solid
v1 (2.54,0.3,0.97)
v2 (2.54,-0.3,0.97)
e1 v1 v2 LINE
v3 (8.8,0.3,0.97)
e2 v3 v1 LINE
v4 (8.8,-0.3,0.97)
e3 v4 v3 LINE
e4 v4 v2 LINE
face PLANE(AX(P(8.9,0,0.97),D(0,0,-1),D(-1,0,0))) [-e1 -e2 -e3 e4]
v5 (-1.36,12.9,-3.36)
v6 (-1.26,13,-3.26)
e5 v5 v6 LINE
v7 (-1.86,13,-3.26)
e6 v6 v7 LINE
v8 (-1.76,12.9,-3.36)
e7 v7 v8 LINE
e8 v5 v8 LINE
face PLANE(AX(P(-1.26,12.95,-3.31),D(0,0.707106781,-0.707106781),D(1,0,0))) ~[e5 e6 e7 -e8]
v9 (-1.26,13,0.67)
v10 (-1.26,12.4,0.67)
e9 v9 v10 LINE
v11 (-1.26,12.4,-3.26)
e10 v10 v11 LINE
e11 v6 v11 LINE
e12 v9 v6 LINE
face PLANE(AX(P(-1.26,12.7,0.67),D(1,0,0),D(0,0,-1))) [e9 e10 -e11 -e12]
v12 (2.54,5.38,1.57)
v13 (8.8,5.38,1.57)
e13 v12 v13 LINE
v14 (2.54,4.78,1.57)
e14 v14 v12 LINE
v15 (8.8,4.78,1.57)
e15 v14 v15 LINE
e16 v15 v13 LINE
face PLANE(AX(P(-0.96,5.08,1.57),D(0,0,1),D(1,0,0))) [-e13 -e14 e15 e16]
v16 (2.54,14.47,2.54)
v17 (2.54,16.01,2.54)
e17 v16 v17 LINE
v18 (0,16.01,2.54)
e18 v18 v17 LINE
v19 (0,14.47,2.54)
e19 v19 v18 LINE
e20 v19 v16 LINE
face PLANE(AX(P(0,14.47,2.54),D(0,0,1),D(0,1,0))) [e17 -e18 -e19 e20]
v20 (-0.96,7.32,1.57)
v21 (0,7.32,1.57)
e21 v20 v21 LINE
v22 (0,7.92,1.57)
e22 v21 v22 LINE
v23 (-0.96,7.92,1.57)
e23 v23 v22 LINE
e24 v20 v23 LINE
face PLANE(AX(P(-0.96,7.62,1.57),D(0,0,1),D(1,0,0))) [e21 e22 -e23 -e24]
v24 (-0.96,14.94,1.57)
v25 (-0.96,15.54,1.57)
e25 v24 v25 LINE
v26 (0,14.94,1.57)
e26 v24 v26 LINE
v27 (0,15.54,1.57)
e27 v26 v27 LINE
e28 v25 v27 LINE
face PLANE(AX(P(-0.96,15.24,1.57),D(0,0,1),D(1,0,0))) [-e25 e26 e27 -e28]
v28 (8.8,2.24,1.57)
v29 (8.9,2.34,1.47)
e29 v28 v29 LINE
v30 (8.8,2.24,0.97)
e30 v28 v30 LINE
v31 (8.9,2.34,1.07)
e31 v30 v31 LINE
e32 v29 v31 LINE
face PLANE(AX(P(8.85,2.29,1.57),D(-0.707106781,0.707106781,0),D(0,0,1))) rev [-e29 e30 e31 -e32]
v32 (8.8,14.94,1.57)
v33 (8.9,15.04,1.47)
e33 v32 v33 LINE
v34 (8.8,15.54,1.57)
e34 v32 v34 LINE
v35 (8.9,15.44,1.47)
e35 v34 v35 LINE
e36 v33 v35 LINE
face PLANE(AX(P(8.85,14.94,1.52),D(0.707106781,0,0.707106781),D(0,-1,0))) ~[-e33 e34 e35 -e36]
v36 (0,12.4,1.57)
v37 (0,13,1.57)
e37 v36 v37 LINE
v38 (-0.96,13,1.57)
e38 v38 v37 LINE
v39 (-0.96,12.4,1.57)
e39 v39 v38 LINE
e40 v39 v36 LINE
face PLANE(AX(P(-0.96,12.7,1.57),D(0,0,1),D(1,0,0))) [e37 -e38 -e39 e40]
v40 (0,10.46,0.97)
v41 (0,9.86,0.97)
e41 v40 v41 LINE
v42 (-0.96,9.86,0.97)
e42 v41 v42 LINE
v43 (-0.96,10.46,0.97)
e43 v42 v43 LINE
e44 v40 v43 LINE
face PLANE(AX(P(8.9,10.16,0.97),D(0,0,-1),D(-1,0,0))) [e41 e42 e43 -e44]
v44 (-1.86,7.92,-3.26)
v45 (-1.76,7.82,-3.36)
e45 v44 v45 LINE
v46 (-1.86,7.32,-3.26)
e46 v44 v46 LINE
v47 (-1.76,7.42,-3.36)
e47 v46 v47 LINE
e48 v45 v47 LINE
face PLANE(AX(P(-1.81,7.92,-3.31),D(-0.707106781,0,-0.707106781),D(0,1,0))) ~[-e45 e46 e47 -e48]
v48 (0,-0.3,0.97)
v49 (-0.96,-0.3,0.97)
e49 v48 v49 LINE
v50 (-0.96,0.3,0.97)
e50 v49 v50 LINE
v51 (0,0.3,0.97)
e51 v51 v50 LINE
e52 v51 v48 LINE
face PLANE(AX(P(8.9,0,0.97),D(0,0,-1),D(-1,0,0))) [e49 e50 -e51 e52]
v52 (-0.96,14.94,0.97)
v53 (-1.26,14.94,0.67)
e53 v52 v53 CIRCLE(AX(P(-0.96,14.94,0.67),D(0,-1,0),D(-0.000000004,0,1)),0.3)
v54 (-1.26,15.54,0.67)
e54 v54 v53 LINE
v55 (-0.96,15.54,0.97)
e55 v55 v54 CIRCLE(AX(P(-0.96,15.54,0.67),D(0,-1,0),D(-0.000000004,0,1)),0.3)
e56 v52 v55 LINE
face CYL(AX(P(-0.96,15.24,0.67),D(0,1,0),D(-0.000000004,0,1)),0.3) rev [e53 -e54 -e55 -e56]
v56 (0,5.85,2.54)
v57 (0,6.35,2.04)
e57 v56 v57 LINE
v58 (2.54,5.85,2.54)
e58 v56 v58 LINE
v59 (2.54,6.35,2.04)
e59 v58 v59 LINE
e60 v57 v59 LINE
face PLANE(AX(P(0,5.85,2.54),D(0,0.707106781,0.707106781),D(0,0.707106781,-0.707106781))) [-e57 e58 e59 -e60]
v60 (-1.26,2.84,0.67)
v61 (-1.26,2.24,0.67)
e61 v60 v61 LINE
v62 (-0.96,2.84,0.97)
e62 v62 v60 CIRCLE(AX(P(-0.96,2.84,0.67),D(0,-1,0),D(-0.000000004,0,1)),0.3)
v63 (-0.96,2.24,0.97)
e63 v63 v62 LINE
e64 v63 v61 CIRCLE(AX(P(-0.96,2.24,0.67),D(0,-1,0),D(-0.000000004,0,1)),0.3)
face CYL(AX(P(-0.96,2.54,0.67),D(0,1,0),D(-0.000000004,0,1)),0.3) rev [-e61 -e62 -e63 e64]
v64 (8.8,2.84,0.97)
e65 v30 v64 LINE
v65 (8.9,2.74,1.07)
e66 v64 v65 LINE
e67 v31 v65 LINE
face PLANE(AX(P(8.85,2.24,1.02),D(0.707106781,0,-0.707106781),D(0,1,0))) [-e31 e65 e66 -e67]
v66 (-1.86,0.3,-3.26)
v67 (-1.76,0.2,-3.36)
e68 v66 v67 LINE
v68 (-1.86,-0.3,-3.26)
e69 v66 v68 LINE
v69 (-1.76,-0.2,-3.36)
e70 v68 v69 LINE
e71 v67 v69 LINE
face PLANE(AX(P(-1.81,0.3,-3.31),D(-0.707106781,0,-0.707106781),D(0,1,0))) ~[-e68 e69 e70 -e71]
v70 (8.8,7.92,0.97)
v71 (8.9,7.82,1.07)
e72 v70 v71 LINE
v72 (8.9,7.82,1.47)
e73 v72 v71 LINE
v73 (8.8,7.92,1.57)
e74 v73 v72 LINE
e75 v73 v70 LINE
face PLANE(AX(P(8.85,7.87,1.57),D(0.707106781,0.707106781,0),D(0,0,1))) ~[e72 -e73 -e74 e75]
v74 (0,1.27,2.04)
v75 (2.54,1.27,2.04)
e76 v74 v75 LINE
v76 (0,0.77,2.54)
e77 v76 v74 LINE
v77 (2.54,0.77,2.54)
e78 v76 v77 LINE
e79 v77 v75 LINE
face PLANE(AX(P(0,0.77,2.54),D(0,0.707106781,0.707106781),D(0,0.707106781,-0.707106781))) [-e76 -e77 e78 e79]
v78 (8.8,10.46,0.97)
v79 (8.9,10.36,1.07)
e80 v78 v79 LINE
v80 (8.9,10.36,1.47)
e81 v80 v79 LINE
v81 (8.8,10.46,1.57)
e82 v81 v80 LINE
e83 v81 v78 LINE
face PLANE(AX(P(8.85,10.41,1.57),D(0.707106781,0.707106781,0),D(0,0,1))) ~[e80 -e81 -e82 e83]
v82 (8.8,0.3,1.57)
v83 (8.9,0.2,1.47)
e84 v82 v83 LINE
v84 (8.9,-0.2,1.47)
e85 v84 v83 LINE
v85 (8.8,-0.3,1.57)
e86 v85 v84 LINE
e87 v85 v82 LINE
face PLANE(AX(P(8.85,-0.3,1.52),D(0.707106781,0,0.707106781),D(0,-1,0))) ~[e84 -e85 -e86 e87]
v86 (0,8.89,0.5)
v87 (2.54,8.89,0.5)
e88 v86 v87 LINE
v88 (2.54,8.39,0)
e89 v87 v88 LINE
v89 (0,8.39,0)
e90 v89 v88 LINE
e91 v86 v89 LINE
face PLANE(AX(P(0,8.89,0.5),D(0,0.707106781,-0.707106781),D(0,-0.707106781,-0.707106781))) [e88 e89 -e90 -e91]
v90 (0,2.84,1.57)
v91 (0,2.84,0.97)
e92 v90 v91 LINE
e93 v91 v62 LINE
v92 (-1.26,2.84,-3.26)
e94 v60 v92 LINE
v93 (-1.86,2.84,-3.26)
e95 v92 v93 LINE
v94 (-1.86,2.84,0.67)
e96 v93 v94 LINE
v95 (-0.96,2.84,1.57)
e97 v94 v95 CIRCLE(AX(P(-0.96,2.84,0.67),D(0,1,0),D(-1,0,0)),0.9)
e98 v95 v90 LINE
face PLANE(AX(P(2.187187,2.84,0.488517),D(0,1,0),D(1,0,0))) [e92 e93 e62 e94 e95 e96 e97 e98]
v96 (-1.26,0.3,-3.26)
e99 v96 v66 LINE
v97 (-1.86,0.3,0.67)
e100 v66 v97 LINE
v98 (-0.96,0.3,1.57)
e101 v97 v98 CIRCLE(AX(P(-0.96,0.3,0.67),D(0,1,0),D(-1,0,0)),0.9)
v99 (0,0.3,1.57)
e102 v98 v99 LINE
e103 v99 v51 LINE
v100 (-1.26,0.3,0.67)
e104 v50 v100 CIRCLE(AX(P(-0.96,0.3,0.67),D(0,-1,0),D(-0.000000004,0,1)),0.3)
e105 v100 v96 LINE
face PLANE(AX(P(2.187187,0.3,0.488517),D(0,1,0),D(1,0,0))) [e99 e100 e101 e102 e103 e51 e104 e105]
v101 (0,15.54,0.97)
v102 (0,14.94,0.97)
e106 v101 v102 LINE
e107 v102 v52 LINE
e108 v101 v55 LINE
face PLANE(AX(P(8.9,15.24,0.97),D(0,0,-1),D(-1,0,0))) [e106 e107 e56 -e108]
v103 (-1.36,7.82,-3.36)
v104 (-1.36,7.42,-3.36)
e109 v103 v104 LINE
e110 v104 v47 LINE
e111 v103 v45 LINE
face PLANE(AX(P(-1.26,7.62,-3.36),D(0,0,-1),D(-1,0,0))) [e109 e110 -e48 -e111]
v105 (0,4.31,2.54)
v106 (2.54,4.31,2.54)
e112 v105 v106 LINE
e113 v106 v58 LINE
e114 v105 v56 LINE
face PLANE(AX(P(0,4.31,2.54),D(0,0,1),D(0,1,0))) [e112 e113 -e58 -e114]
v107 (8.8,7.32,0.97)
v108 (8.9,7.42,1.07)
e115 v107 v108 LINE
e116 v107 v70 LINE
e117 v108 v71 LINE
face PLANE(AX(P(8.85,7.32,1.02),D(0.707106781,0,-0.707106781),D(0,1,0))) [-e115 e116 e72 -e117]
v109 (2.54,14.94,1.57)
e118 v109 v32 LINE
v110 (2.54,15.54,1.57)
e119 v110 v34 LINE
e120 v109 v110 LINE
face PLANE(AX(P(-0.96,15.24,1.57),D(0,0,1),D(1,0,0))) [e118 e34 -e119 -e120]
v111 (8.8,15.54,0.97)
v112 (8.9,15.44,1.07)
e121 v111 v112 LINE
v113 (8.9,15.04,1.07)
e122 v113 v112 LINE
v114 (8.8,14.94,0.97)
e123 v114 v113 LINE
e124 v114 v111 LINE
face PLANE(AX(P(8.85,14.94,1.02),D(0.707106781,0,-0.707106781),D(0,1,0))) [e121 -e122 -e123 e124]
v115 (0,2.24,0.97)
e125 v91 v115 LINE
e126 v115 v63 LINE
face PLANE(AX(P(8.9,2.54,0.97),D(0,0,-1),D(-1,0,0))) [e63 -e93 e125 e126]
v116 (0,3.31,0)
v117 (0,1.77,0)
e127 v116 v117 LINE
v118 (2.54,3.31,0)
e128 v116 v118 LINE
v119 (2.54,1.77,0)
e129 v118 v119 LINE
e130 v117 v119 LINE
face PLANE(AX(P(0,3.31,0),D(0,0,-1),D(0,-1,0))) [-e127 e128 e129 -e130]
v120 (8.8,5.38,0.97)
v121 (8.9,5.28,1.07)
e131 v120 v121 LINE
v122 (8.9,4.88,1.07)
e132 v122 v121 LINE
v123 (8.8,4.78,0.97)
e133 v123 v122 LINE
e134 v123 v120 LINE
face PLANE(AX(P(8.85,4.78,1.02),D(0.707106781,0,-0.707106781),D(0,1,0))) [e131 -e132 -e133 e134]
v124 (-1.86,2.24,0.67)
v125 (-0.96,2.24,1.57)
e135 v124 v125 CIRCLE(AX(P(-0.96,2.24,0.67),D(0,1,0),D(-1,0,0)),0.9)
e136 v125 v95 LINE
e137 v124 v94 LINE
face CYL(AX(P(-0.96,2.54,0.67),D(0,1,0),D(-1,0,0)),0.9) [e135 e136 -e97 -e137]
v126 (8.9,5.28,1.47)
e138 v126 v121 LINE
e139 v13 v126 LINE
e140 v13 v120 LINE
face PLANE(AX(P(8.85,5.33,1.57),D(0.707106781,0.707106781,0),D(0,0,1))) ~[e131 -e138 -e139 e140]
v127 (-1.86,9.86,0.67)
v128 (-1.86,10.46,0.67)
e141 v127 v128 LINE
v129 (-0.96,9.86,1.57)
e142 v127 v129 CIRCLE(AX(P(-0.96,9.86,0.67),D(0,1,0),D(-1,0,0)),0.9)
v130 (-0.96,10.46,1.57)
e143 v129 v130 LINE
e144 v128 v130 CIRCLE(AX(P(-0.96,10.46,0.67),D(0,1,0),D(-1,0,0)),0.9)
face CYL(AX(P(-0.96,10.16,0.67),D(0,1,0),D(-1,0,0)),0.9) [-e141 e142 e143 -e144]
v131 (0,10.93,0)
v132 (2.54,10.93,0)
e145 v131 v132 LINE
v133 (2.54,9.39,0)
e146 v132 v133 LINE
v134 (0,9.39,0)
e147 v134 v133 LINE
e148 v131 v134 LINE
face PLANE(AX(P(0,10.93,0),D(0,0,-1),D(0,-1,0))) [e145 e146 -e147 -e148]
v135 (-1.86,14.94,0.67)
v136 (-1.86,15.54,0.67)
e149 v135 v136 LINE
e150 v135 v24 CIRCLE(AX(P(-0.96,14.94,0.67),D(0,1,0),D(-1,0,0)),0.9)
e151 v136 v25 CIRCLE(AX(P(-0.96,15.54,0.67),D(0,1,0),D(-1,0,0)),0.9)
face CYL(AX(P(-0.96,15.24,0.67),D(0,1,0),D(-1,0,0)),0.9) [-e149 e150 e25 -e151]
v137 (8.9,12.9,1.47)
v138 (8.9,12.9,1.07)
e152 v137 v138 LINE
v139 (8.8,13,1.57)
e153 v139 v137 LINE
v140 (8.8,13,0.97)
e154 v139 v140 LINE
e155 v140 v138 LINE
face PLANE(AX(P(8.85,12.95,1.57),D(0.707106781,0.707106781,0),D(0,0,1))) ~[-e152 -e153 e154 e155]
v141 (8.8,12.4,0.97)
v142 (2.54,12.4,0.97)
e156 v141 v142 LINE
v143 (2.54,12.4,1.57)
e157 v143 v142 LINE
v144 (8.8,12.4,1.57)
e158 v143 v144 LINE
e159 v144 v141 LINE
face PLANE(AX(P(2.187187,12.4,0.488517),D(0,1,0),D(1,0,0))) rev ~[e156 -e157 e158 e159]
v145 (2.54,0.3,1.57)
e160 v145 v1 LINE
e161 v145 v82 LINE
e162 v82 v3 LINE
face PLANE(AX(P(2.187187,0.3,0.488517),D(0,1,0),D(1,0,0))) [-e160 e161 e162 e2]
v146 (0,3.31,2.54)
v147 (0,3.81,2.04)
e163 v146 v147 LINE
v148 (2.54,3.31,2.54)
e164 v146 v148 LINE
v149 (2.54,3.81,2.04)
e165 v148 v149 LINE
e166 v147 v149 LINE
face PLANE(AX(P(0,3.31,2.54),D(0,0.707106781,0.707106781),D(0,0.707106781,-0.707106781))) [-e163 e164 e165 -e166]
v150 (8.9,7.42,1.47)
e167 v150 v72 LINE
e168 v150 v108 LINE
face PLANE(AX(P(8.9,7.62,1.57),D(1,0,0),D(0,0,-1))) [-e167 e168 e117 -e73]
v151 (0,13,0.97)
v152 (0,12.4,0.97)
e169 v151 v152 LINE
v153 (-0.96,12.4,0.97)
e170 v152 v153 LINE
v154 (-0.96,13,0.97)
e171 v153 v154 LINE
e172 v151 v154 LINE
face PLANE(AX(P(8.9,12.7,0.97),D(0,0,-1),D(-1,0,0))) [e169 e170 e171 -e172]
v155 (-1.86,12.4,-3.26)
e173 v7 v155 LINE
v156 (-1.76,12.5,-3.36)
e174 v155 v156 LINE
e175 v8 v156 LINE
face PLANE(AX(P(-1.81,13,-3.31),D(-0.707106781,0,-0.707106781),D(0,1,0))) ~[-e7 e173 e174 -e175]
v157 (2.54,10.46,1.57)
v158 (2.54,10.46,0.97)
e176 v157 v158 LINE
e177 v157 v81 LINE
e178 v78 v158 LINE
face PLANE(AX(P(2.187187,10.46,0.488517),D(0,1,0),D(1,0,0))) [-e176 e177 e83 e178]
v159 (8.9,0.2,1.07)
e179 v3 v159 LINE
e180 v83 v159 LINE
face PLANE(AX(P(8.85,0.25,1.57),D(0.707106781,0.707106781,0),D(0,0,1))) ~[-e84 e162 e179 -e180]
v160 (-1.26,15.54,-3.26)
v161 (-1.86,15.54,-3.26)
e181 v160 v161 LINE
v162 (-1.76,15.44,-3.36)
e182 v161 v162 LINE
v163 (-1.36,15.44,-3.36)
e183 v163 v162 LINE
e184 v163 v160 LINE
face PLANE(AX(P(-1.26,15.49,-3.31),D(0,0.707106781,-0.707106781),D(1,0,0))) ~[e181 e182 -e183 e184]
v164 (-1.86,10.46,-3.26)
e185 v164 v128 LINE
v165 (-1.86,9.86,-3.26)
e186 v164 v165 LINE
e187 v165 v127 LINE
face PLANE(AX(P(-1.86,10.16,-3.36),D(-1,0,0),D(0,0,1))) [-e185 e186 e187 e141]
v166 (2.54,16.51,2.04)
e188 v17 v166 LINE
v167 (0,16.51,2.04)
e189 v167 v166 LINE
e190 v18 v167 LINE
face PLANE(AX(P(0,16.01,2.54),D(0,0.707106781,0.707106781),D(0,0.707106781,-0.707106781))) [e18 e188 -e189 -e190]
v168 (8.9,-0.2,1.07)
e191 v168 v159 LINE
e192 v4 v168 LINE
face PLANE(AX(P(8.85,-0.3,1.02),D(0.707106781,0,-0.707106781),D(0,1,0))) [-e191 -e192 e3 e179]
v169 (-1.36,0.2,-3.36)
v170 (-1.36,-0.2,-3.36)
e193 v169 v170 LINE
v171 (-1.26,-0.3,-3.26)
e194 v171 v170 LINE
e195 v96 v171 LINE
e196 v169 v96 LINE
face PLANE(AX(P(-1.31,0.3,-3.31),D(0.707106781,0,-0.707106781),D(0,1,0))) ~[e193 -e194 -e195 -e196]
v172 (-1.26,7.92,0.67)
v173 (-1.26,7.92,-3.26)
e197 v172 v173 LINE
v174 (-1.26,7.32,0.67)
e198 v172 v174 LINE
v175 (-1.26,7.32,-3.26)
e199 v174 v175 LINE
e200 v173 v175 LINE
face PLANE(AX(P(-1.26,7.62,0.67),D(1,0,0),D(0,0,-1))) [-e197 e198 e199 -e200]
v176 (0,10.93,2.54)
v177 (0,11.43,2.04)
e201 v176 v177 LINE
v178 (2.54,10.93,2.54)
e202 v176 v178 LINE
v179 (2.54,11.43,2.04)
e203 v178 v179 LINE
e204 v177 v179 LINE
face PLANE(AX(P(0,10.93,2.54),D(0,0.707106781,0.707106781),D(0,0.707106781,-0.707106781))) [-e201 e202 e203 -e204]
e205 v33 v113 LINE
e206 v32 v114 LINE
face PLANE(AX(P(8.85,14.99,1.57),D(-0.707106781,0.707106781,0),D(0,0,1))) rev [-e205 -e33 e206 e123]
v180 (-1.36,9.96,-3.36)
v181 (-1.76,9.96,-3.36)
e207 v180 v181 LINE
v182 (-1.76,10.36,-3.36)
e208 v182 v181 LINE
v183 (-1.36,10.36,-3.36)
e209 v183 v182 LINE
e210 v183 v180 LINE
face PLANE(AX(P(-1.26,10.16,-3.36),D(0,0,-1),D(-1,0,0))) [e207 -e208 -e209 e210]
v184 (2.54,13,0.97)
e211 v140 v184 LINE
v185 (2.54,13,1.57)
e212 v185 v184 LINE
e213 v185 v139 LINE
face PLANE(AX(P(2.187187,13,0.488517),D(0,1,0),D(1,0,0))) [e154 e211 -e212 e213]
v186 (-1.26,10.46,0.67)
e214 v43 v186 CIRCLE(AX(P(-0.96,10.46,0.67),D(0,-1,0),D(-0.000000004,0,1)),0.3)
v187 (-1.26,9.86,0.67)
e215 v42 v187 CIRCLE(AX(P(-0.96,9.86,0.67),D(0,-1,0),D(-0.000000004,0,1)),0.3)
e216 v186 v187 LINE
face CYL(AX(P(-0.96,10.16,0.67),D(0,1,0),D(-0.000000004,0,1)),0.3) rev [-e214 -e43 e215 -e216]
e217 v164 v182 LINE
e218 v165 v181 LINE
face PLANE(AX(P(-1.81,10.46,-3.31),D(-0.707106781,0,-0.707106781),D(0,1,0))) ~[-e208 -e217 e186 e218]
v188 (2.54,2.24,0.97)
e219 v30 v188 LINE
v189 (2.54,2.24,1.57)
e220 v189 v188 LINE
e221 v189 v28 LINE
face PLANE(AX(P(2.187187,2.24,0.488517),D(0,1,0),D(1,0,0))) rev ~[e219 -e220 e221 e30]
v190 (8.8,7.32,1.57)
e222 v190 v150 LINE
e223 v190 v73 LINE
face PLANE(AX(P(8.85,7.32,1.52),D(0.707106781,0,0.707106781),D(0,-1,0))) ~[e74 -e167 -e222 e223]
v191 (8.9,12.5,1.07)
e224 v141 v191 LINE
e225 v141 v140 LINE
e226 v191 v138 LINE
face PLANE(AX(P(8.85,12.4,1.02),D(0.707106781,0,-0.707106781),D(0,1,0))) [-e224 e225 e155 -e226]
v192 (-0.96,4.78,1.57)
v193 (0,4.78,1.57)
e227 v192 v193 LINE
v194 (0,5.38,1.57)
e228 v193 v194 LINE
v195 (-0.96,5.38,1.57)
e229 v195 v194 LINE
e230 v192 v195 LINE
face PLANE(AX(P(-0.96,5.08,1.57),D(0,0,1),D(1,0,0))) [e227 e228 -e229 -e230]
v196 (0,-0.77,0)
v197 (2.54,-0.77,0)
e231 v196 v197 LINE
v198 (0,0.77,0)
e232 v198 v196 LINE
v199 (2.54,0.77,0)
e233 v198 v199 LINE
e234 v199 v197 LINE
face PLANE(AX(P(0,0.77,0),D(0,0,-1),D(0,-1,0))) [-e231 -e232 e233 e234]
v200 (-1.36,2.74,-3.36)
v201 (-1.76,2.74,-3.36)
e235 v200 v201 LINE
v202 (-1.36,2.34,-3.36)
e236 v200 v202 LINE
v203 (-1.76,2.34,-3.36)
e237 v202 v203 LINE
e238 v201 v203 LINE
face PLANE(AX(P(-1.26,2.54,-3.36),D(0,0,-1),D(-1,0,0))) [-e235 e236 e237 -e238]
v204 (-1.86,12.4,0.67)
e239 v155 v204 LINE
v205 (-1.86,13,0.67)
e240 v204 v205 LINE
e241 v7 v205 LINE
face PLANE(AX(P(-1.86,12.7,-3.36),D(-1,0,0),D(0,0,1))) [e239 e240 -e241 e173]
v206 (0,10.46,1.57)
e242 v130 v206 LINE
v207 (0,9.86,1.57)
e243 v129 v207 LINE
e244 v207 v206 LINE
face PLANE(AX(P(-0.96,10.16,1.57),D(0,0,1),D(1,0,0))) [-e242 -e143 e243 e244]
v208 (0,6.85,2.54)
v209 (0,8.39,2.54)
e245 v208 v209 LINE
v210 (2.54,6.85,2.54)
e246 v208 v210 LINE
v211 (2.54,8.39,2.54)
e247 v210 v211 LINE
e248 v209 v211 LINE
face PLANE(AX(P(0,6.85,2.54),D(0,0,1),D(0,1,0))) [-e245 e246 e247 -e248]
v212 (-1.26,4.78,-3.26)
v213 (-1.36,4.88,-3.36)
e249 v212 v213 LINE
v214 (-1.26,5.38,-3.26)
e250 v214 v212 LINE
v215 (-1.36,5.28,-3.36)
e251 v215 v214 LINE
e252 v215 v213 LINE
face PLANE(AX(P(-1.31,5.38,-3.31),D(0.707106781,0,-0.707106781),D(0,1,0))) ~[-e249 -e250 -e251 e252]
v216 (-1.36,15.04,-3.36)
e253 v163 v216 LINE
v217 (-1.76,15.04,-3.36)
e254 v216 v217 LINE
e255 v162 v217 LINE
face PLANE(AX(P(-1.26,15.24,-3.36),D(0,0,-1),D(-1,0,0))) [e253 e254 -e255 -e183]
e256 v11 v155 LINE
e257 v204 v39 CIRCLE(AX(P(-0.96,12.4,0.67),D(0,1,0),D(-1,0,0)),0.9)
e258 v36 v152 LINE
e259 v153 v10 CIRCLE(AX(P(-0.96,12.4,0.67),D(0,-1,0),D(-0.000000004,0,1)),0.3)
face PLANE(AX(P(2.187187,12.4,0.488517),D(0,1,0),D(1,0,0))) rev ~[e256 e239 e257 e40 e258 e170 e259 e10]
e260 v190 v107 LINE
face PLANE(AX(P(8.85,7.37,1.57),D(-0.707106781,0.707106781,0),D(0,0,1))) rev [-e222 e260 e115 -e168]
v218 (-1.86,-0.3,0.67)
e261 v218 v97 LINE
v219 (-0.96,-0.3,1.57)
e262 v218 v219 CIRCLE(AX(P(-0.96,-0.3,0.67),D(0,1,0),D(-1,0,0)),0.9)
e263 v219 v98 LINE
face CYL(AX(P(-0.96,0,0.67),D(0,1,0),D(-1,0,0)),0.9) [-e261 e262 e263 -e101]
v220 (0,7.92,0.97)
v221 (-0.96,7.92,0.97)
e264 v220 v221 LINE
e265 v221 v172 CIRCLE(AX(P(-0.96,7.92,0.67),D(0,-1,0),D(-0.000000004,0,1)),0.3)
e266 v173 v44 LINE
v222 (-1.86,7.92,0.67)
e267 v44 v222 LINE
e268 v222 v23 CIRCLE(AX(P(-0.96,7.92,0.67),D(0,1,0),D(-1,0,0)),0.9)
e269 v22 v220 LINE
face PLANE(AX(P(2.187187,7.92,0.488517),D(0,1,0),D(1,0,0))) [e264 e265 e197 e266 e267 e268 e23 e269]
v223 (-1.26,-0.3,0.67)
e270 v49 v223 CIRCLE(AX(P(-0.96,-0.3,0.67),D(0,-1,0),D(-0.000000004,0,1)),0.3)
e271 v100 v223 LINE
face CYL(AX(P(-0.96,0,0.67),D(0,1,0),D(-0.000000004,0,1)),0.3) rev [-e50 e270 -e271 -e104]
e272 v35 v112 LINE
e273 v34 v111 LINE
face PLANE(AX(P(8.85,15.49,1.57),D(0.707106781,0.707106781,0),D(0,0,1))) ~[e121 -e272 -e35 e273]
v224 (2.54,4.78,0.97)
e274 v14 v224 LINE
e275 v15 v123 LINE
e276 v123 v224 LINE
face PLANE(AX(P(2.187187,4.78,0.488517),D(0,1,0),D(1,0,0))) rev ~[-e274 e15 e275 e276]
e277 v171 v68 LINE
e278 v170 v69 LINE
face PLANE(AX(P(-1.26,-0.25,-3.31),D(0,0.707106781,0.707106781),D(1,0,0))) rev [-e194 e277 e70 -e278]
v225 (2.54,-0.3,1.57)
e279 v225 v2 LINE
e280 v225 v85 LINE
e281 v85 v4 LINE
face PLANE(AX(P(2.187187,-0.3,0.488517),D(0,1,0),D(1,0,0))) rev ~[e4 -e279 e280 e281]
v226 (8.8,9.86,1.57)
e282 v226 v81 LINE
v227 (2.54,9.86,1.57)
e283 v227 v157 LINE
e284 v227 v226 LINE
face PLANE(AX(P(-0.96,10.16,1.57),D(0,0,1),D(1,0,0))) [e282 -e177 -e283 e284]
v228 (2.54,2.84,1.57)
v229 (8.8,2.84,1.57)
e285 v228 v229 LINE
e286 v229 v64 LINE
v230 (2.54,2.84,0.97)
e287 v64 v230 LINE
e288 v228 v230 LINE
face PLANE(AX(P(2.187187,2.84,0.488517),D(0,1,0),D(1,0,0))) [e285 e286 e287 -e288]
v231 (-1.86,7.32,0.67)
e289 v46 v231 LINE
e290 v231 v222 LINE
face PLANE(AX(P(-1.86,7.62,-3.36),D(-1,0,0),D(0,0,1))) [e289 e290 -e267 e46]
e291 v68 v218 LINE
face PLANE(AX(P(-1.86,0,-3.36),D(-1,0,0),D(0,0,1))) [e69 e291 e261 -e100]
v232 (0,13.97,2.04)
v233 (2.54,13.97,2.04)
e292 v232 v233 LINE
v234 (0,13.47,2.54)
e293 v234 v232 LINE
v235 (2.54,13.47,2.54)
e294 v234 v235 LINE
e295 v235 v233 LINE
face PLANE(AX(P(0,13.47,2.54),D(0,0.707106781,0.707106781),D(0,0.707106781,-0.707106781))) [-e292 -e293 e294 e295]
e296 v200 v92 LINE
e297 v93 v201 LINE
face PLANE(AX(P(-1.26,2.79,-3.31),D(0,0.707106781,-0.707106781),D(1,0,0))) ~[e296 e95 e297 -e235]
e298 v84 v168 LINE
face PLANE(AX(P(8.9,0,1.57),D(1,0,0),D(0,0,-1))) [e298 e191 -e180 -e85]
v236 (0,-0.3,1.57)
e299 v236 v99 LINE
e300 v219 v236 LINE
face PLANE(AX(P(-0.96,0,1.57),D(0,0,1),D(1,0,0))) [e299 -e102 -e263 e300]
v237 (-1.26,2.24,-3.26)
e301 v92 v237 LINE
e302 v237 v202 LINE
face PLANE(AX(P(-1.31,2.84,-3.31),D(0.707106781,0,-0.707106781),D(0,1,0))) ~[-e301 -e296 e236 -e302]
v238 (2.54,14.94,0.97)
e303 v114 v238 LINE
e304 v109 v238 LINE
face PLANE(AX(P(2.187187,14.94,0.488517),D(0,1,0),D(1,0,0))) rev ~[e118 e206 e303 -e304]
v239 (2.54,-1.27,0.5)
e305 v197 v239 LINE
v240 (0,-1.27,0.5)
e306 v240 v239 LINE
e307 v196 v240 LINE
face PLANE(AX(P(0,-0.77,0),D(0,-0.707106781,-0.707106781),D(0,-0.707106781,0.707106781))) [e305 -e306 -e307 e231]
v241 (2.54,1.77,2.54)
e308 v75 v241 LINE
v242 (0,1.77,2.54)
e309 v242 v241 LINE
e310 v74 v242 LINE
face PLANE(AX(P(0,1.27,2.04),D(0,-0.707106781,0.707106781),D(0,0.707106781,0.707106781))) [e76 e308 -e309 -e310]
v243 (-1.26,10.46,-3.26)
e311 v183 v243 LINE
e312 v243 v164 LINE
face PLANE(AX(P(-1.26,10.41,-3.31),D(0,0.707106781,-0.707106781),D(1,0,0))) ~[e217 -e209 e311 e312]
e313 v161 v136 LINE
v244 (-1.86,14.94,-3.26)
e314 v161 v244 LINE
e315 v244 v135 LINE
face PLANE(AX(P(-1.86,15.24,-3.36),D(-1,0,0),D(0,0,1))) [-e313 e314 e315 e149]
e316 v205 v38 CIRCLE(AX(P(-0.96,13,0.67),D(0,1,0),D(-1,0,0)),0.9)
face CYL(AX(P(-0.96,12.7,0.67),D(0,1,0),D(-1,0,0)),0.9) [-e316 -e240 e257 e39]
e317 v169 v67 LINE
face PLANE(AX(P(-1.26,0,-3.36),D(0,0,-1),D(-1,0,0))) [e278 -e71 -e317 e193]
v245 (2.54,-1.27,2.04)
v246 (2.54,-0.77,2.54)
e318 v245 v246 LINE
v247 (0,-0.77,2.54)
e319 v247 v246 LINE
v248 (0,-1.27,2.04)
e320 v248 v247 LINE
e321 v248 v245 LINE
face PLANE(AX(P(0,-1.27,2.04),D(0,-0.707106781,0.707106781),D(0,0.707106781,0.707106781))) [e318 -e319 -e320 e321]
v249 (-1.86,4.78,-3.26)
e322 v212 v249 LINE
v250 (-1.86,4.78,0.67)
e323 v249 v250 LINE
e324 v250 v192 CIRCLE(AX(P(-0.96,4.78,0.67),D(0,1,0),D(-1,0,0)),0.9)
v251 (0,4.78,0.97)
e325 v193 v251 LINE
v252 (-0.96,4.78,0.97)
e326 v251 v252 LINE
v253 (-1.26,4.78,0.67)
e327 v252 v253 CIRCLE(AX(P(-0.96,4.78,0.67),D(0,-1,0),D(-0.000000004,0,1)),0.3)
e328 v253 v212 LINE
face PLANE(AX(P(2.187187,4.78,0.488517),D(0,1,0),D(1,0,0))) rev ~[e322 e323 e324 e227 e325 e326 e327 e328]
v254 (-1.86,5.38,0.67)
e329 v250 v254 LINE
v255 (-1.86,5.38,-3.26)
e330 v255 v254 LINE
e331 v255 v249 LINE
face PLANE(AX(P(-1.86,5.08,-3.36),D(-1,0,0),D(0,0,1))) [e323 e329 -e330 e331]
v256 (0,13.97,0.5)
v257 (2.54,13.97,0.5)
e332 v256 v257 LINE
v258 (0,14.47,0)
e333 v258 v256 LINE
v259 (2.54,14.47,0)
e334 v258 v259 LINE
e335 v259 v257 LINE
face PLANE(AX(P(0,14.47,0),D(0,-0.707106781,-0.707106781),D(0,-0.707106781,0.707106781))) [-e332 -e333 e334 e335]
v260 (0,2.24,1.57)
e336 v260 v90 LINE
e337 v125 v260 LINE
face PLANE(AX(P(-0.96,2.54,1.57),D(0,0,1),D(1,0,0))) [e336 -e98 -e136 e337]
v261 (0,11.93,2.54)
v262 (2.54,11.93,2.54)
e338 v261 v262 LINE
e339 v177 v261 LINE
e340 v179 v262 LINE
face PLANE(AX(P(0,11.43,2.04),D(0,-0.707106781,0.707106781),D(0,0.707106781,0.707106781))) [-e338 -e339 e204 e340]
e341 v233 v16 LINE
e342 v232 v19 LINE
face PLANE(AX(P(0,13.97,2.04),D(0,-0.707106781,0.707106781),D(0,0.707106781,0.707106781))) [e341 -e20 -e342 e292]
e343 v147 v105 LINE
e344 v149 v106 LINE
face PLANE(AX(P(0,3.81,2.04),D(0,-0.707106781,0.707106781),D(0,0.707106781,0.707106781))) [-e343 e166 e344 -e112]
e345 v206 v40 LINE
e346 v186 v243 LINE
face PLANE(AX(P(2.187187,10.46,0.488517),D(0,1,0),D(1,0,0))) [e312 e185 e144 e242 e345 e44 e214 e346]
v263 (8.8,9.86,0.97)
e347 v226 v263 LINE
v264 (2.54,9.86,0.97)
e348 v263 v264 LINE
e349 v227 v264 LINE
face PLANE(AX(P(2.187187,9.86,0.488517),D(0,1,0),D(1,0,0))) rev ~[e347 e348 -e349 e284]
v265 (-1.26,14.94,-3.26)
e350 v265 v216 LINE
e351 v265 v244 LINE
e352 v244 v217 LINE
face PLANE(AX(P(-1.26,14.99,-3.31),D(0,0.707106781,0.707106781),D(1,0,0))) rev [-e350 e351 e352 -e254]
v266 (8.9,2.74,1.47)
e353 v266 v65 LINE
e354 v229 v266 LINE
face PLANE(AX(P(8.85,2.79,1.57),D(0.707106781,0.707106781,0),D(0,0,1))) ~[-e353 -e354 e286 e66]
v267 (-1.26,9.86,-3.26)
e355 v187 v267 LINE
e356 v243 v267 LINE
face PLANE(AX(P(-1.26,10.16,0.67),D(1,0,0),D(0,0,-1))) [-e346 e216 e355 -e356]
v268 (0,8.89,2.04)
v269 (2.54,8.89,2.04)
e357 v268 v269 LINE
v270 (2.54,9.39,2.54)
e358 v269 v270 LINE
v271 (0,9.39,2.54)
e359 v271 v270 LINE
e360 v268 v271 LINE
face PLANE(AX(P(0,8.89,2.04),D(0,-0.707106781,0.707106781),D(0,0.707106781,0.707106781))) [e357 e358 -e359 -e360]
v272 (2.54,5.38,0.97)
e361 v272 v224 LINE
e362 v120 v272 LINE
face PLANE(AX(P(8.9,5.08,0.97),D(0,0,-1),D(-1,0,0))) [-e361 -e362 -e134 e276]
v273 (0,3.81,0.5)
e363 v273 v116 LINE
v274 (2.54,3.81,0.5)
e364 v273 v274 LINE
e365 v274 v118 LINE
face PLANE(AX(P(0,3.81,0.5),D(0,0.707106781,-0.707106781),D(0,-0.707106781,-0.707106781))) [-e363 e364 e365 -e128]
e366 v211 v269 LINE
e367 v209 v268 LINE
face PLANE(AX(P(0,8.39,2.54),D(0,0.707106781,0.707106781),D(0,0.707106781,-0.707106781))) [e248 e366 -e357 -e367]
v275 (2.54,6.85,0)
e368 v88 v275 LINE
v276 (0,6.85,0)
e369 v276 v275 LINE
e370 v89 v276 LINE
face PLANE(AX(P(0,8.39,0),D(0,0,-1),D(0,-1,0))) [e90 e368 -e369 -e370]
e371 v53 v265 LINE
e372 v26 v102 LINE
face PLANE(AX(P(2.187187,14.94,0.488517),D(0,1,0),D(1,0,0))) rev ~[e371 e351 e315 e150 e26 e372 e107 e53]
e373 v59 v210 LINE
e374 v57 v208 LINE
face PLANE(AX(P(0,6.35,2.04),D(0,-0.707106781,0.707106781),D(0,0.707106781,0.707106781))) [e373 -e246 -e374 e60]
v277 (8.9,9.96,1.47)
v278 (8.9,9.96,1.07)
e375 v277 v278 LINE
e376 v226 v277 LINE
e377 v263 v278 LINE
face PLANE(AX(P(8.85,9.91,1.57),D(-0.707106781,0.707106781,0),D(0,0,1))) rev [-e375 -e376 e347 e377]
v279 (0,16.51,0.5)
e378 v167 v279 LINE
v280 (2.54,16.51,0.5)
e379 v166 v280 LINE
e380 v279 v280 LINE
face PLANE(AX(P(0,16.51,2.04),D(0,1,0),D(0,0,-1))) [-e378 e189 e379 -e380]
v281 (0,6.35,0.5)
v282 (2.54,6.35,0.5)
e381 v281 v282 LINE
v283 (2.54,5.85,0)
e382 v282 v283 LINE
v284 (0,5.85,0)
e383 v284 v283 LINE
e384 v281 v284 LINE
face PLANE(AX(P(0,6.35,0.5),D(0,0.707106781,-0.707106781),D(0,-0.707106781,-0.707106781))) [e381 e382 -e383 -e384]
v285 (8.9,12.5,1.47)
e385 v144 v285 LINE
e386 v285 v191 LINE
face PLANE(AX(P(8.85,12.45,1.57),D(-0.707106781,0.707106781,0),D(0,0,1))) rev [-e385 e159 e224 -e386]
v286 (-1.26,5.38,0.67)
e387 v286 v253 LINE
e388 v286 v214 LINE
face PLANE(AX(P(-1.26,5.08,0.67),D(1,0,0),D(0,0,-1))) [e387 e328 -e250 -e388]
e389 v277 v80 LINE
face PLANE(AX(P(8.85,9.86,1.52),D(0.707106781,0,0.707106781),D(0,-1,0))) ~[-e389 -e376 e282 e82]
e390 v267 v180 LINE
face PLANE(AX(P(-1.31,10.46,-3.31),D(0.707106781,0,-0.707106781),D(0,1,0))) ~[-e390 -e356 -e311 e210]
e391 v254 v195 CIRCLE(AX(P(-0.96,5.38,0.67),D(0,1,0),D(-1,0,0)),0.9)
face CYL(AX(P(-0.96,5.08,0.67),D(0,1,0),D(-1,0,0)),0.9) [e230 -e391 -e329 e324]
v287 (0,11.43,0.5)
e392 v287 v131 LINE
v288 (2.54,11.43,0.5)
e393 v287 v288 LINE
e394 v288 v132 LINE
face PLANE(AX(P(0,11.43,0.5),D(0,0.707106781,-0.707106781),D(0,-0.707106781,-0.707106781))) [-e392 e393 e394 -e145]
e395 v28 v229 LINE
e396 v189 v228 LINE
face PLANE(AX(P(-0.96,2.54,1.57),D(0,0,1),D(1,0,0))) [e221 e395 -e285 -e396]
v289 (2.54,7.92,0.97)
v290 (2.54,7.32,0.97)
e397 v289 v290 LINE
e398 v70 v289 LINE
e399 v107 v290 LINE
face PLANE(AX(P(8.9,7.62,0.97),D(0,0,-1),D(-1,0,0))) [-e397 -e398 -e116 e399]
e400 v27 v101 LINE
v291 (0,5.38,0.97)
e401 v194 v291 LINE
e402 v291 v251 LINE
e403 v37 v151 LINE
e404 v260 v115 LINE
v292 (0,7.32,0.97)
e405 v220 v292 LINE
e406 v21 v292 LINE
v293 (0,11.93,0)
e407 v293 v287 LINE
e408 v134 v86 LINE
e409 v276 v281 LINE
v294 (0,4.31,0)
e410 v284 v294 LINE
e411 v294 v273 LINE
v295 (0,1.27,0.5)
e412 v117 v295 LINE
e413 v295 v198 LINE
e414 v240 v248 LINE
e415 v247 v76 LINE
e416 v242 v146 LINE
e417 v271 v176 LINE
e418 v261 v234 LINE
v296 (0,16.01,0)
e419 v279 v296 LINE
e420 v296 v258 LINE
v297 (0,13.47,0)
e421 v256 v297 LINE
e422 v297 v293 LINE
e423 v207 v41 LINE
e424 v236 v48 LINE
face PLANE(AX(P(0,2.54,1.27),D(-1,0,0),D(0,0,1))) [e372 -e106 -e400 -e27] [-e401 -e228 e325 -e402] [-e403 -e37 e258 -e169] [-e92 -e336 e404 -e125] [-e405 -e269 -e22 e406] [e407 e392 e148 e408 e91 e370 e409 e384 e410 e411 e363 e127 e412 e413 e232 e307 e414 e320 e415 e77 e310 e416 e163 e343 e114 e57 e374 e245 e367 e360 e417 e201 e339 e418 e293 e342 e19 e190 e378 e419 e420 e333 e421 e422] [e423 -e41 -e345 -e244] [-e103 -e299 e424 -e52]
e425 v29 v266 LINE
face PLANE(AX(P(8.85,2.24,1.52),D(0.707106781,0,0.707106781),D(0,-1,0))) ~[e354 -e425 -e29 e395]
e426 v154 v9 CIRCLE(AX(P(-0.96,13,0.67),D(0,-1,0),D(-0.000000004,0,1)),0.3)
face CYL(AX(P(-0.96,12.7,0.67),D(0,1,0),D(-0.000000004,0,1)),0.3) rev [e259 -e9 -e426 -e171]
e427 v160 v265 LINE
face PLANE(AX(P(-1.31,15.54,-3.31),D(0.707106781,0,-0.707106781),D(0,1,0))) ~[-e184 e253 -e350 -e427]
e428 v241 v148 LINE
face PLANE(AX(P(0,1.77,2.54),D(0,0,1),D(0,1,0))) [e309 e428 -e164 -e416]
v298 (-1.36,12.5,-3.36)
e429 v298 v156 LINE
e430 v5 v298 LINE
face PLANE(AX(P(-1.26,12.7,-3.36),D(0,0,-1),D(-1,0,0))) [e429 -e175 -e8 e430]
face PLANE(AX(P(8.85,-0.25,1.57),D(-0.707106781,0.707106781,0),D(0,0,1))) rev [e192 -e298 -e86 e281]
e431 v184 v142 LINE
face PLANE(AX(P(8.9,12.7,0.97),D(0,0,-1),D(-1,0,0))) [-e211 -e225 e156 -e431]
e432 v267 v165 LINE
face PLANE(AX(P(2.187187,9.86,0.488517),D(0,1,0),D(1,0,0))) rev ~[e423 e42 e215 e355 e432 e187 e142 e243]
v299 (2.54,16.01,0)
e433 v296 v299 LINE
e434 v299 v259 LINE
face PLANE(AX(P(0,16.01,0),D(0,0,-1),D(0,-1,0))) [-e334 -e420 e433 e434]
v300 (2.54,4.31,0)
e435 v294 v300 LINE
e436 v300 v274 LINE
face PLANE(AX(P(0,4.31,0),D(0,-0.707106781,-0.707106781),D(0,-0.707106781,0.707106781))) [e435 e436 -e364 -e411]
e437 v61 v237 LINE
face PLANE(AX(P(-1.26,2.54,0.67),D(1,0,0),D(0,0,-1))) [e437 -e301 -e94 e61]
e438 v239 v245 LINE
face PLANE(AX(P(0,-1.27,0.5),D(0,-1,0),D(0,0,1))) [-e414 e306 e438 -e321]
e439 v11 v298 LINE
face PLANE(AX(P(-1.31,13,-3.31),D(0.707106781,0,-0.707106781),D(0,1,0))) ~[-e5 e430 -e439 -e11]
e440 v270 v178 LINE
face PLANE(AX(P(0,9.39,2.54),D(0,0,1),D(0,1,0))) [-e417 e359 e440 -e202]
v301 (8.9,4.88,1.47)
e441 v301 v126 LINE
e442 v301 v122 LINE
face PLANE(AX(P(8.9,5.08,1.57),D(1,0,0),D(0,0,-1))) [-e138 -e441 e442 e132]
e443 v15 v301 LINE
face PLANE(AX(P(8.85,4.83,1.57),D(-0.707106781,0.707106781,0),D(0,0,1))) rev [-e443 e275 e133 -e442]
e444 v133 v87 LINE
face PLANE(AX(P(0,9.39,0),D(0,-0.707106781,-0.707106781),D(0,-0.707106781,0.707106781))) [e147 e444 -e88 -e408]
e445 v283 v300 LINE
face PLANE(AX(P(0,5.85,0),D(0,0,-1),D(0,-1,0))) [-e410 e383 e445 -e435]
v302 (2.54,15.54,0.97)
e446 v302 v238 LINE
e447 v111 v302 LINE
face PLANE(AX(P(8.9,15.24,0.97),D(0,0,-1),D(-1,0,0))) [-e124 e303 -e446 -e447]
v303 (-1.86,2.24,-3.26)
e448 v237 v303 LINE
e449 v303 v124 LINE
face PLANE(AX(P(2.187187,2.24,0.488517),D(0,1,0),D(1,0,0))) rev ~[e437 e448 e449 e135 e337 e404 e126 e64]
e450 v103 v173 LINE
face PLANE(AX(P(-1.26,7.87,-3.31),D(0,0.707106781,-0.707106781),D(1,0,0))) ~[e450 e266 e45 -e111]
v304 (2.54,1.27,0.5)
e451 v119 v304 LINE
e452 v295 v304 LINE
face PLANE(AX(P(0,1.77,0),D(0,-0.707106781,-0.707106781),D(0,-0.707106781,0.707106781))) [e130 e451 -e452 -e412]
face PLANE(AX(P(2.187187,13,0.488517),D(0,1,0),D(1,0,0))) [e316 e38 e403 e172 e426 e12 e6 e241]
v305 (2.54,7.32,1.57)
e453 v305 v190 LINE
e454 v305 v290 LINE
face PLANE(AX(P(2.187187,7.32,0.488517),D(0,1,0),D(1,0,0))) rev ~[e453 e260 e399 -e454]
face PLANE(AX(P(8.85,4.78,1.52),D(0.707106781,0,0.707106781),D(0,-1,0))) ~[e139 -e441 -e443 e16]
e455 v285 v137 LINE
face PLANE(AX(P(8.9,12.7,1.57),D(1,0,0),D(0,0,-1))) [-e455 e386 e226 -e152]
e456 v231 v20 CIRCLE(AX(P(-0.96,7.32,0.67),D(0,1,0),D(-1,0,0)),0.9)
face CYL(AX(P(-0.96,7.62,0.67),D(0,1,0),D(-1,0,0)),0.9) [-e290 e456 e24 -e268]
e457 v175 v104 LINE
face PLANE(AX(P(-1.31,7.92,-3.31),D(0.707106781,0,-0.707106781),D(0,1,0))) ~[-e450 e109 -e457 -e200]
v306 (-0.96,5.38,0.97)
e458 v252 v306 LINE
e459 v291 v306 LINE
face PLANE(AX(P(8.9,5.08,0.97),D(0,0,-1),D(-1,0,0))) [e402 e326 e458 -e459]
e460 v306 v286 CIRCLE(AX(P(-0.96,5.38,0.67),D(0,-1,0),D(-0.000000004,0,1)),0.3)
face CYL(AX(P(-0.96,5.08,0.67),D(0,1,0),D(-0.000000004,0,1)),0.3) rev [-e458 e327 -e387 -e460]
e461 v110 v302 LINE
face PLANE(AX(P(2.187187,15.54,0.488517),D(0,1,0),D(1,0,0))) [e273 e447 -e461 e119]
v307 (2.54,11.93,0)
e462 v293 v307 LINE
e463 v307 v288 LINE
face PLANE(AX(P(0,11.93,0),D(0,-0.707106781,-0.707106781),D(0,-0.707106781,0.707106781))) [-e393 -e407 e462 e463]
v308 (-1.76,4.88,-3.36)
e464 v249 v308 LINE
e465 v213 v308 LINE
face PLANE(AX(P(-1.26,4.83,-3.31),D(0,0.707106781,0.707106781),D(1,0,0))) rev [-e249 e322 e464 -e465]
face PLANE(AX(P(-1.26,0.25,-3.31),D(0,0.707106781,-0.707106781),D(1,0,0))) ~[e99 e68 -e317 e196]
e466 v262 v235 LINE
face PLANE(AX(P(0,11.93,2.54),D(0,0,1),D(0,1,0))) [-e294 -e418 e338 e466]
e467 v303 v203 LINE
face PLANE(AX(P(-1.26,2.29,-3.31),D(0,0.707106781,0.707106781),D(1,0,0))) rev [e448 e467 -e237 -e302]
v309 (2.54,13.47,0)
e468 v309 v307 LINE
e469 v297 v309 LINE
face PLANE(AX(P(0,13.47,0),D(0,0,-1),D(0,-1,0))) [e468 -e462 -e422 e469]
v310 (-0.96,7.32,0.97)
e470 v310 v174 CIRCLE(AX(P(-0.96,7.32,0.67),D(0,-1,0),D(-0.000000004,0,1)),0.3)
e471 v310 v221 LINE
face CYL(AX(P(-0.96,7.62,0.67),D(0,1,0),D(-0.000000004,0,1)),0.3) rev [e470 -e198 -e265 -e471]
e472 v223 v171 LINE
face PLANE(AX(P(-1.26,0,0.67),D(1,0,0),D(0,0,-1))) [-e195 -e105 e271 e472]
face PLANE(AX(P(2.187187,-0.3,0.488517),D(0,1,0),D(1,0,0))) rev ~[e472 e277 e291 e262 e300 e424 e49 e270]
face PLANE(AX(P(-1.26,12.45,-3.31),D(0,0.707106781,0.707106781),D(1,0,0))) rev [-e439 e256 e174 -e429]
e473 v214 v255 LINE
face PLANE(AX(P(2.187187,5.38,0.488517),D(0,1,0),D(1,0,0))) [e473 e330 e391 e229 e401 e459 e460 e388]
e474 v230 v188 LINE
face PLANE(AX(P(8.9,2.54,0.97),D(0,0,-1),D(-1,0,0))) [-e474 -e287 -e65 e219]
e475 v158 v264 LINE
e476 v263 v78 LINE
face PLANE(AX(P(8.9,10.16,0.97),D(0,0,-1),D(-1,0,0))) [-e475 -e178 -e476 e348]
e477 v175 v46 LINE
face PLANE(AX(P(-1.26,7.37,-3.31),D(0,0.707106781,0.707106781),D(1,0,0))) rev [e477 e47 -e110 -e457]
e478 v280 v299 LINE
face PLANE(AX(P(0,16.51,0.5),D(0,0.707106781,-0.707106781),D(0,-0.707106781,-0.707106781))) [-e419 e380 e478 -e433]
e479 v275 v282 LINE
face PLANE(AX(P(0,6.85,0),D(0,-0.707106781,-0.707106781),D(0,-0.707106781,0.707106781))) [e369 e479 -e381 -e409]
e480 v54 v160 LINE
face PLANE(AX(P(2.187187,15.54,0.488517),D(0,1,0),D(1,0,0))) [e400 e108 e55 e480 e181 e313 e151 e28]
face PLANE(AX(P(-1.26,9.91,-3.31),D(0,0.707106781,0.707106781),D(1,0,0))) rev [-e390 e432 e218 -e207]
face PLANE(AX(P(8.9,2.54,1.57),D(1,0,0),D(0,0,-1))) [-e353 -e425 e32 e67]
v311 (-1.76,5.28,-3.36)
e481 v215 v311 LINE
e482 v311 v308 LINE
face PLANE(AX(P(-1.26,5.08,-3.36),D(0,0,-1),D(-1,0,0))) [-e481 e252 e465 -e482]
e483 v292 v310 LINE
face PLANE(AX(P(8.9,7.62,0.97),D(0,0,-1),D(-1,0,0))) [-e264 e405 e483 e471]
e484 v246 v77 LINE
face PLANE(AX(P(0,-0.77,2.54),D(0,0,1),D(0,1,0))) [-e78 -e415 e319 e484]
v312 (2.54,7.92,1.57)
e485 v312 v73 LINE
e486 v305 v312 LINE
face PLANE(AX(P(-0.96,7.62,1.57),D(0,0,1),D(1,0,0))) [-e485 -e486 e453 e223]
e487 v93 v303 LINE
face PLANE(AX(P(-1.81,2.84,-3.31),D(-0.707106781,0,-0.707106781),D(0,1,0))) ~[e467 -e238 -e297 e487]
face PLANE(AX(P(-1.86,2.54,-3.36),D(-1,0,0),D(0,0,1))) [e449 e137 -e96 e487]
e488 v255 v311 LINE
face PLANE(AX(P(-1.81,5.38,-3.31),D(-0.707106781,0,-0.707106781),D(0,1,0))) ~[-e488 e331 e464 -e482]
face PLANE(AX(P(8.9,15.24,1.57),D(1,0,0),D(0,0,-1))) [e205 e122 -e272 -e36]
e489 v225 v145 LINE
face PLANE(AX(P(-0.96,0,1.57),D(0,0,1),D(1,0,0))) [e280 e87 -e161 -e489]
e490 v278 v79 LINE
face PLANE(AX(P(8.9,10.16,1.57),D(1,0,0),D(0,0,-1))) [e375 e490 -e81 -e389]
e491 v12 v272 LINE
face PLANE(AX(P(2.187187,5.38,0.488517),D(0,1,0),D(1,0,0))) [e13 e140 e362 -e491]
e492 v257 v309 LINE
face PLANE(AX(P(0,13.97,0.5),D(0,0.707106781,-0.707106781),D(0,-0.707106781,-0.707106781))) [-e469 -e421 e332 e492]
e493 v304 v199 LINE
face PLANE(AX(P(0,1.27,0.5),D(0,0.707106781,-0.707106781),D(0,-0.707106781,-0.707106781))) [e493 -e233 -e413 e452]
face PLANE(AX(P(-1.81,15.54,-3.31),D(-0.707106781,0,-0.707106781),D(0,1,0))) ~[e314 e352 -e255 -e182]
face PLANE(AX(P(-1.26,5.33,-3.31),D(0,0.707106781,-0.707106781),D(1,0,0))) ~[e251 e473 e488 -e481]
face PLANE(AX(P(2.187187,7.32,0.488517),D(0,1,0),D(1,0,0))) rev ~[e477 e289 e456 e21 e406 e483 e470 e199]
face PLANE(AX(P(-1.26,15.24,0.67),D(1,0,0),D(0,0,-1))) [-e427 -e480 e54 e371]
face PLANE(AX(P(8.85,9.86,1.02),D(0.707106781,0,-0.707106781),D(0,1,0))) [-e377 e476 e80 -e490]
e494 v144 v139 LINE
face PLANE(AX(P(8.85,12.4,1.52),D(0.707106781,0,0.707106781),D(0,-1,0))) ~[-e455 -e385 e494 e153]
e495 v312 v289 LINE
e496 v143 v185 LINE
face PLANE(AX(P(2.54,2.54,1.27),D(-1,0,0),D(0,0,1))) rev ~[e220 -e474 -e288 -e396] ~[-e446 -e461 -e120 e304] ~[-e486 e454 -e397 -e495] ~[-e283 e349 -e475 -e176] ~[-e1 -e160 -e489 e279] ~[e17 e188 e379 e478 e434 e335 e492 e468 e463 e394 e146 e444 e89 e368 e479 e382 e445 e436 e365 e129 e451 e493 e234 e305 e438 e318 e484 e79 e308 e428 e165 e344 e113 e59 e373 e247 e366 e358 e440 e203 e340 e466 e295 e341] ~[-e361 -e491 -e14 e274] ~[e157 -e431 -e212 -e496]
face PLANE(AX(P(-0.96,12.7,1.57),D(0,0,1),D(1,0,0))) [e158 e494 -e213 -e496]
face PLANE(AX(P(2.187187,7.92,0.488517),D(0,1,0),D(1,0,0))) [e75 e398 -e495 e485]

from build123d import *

# Parameters (mm, degrees)
PLASTIC_DEPTH   = 2.54
CONTACT_DEPTH   = 0.3
CHAMFER1_SIZE   = 0.1
LPATTERN1_COUNT = 7
LPATTERN1_PITCH = 2.54


with BuildPart() as part:
    # Sketch1 → Plastic (new body)
    with BuildSketch(Plane(origin=(0, 0, 0), x_dir=(0, 0, -1), z_dir=(1, 0, 0))):
        Polygon((-2.04, 1.27), (-0.5, 1.27), (0, 0.77), (0, -0.77), (-0.5, -1.27), (-2.04, -1.27), (-2.54, -0.77), (-2.54, 0.77), align=None)
    extrude(amount=PLASTIC_DEPTH)

    # Sketch2 → Contact (add, symmetric)
    with BuildSketch(Plane(origin=(0, 0, 0), x_dir=(1, 0, 0), z_dir=(0, 1, 0))):
        with BuildLine():
            Line((-1.86, 3.36), (-1.86, -0.67))
            ThreePointArc((-1.86, -0.67), (-1.596396103, -1.306396103), (-0.96, -1.57))
            Line((-0.96, -1.57), (8.9, -1.57))
            Line((8.9, -1.57), (8.9, -0.97))
            Line((8.9, -0.97), (-0.96, -0.97))
            ThreePointArc((-0.96, -0.97), (-1.172132034, -0.882132034), (-1.26, -0.67))
            Line((-1.26, -0.67), (-1.26, 3.36))
            Line((-1.26, 3.36), (-1.86, 3.36))
        make_face()
    extrude(amount=CONTACT_DEPTH, both=True)

    # Chamfer1
    chamfer1_edges = [part.edges().sort_by_distance(p)[0] for p in [
        (8.9, 0, 0.97),
        (8.9, 0.3, 1.27),
        (-1.56, -0.3, -3.36),
        (-1.26, 0, -3.36),
        (-1.86, 0, -3.36),
        (8.9, -0.3, 1.27),
        (8.9, 0, 1.57),
        (-1.56, 0.3, -3.36),
    ]]
    chamfer(chamfer1_edges, length=CHAMFER1_SIZE)

    # LPattern1: part ×7


with BuildPart() as part_1:
    add(part.part)
    with Locations(*[(0, i * LPATTERN1_PITCH, 0) for i in range(1, LPATTERN1_COUNT)]):
        add(part.part)


solid = part_1.part
